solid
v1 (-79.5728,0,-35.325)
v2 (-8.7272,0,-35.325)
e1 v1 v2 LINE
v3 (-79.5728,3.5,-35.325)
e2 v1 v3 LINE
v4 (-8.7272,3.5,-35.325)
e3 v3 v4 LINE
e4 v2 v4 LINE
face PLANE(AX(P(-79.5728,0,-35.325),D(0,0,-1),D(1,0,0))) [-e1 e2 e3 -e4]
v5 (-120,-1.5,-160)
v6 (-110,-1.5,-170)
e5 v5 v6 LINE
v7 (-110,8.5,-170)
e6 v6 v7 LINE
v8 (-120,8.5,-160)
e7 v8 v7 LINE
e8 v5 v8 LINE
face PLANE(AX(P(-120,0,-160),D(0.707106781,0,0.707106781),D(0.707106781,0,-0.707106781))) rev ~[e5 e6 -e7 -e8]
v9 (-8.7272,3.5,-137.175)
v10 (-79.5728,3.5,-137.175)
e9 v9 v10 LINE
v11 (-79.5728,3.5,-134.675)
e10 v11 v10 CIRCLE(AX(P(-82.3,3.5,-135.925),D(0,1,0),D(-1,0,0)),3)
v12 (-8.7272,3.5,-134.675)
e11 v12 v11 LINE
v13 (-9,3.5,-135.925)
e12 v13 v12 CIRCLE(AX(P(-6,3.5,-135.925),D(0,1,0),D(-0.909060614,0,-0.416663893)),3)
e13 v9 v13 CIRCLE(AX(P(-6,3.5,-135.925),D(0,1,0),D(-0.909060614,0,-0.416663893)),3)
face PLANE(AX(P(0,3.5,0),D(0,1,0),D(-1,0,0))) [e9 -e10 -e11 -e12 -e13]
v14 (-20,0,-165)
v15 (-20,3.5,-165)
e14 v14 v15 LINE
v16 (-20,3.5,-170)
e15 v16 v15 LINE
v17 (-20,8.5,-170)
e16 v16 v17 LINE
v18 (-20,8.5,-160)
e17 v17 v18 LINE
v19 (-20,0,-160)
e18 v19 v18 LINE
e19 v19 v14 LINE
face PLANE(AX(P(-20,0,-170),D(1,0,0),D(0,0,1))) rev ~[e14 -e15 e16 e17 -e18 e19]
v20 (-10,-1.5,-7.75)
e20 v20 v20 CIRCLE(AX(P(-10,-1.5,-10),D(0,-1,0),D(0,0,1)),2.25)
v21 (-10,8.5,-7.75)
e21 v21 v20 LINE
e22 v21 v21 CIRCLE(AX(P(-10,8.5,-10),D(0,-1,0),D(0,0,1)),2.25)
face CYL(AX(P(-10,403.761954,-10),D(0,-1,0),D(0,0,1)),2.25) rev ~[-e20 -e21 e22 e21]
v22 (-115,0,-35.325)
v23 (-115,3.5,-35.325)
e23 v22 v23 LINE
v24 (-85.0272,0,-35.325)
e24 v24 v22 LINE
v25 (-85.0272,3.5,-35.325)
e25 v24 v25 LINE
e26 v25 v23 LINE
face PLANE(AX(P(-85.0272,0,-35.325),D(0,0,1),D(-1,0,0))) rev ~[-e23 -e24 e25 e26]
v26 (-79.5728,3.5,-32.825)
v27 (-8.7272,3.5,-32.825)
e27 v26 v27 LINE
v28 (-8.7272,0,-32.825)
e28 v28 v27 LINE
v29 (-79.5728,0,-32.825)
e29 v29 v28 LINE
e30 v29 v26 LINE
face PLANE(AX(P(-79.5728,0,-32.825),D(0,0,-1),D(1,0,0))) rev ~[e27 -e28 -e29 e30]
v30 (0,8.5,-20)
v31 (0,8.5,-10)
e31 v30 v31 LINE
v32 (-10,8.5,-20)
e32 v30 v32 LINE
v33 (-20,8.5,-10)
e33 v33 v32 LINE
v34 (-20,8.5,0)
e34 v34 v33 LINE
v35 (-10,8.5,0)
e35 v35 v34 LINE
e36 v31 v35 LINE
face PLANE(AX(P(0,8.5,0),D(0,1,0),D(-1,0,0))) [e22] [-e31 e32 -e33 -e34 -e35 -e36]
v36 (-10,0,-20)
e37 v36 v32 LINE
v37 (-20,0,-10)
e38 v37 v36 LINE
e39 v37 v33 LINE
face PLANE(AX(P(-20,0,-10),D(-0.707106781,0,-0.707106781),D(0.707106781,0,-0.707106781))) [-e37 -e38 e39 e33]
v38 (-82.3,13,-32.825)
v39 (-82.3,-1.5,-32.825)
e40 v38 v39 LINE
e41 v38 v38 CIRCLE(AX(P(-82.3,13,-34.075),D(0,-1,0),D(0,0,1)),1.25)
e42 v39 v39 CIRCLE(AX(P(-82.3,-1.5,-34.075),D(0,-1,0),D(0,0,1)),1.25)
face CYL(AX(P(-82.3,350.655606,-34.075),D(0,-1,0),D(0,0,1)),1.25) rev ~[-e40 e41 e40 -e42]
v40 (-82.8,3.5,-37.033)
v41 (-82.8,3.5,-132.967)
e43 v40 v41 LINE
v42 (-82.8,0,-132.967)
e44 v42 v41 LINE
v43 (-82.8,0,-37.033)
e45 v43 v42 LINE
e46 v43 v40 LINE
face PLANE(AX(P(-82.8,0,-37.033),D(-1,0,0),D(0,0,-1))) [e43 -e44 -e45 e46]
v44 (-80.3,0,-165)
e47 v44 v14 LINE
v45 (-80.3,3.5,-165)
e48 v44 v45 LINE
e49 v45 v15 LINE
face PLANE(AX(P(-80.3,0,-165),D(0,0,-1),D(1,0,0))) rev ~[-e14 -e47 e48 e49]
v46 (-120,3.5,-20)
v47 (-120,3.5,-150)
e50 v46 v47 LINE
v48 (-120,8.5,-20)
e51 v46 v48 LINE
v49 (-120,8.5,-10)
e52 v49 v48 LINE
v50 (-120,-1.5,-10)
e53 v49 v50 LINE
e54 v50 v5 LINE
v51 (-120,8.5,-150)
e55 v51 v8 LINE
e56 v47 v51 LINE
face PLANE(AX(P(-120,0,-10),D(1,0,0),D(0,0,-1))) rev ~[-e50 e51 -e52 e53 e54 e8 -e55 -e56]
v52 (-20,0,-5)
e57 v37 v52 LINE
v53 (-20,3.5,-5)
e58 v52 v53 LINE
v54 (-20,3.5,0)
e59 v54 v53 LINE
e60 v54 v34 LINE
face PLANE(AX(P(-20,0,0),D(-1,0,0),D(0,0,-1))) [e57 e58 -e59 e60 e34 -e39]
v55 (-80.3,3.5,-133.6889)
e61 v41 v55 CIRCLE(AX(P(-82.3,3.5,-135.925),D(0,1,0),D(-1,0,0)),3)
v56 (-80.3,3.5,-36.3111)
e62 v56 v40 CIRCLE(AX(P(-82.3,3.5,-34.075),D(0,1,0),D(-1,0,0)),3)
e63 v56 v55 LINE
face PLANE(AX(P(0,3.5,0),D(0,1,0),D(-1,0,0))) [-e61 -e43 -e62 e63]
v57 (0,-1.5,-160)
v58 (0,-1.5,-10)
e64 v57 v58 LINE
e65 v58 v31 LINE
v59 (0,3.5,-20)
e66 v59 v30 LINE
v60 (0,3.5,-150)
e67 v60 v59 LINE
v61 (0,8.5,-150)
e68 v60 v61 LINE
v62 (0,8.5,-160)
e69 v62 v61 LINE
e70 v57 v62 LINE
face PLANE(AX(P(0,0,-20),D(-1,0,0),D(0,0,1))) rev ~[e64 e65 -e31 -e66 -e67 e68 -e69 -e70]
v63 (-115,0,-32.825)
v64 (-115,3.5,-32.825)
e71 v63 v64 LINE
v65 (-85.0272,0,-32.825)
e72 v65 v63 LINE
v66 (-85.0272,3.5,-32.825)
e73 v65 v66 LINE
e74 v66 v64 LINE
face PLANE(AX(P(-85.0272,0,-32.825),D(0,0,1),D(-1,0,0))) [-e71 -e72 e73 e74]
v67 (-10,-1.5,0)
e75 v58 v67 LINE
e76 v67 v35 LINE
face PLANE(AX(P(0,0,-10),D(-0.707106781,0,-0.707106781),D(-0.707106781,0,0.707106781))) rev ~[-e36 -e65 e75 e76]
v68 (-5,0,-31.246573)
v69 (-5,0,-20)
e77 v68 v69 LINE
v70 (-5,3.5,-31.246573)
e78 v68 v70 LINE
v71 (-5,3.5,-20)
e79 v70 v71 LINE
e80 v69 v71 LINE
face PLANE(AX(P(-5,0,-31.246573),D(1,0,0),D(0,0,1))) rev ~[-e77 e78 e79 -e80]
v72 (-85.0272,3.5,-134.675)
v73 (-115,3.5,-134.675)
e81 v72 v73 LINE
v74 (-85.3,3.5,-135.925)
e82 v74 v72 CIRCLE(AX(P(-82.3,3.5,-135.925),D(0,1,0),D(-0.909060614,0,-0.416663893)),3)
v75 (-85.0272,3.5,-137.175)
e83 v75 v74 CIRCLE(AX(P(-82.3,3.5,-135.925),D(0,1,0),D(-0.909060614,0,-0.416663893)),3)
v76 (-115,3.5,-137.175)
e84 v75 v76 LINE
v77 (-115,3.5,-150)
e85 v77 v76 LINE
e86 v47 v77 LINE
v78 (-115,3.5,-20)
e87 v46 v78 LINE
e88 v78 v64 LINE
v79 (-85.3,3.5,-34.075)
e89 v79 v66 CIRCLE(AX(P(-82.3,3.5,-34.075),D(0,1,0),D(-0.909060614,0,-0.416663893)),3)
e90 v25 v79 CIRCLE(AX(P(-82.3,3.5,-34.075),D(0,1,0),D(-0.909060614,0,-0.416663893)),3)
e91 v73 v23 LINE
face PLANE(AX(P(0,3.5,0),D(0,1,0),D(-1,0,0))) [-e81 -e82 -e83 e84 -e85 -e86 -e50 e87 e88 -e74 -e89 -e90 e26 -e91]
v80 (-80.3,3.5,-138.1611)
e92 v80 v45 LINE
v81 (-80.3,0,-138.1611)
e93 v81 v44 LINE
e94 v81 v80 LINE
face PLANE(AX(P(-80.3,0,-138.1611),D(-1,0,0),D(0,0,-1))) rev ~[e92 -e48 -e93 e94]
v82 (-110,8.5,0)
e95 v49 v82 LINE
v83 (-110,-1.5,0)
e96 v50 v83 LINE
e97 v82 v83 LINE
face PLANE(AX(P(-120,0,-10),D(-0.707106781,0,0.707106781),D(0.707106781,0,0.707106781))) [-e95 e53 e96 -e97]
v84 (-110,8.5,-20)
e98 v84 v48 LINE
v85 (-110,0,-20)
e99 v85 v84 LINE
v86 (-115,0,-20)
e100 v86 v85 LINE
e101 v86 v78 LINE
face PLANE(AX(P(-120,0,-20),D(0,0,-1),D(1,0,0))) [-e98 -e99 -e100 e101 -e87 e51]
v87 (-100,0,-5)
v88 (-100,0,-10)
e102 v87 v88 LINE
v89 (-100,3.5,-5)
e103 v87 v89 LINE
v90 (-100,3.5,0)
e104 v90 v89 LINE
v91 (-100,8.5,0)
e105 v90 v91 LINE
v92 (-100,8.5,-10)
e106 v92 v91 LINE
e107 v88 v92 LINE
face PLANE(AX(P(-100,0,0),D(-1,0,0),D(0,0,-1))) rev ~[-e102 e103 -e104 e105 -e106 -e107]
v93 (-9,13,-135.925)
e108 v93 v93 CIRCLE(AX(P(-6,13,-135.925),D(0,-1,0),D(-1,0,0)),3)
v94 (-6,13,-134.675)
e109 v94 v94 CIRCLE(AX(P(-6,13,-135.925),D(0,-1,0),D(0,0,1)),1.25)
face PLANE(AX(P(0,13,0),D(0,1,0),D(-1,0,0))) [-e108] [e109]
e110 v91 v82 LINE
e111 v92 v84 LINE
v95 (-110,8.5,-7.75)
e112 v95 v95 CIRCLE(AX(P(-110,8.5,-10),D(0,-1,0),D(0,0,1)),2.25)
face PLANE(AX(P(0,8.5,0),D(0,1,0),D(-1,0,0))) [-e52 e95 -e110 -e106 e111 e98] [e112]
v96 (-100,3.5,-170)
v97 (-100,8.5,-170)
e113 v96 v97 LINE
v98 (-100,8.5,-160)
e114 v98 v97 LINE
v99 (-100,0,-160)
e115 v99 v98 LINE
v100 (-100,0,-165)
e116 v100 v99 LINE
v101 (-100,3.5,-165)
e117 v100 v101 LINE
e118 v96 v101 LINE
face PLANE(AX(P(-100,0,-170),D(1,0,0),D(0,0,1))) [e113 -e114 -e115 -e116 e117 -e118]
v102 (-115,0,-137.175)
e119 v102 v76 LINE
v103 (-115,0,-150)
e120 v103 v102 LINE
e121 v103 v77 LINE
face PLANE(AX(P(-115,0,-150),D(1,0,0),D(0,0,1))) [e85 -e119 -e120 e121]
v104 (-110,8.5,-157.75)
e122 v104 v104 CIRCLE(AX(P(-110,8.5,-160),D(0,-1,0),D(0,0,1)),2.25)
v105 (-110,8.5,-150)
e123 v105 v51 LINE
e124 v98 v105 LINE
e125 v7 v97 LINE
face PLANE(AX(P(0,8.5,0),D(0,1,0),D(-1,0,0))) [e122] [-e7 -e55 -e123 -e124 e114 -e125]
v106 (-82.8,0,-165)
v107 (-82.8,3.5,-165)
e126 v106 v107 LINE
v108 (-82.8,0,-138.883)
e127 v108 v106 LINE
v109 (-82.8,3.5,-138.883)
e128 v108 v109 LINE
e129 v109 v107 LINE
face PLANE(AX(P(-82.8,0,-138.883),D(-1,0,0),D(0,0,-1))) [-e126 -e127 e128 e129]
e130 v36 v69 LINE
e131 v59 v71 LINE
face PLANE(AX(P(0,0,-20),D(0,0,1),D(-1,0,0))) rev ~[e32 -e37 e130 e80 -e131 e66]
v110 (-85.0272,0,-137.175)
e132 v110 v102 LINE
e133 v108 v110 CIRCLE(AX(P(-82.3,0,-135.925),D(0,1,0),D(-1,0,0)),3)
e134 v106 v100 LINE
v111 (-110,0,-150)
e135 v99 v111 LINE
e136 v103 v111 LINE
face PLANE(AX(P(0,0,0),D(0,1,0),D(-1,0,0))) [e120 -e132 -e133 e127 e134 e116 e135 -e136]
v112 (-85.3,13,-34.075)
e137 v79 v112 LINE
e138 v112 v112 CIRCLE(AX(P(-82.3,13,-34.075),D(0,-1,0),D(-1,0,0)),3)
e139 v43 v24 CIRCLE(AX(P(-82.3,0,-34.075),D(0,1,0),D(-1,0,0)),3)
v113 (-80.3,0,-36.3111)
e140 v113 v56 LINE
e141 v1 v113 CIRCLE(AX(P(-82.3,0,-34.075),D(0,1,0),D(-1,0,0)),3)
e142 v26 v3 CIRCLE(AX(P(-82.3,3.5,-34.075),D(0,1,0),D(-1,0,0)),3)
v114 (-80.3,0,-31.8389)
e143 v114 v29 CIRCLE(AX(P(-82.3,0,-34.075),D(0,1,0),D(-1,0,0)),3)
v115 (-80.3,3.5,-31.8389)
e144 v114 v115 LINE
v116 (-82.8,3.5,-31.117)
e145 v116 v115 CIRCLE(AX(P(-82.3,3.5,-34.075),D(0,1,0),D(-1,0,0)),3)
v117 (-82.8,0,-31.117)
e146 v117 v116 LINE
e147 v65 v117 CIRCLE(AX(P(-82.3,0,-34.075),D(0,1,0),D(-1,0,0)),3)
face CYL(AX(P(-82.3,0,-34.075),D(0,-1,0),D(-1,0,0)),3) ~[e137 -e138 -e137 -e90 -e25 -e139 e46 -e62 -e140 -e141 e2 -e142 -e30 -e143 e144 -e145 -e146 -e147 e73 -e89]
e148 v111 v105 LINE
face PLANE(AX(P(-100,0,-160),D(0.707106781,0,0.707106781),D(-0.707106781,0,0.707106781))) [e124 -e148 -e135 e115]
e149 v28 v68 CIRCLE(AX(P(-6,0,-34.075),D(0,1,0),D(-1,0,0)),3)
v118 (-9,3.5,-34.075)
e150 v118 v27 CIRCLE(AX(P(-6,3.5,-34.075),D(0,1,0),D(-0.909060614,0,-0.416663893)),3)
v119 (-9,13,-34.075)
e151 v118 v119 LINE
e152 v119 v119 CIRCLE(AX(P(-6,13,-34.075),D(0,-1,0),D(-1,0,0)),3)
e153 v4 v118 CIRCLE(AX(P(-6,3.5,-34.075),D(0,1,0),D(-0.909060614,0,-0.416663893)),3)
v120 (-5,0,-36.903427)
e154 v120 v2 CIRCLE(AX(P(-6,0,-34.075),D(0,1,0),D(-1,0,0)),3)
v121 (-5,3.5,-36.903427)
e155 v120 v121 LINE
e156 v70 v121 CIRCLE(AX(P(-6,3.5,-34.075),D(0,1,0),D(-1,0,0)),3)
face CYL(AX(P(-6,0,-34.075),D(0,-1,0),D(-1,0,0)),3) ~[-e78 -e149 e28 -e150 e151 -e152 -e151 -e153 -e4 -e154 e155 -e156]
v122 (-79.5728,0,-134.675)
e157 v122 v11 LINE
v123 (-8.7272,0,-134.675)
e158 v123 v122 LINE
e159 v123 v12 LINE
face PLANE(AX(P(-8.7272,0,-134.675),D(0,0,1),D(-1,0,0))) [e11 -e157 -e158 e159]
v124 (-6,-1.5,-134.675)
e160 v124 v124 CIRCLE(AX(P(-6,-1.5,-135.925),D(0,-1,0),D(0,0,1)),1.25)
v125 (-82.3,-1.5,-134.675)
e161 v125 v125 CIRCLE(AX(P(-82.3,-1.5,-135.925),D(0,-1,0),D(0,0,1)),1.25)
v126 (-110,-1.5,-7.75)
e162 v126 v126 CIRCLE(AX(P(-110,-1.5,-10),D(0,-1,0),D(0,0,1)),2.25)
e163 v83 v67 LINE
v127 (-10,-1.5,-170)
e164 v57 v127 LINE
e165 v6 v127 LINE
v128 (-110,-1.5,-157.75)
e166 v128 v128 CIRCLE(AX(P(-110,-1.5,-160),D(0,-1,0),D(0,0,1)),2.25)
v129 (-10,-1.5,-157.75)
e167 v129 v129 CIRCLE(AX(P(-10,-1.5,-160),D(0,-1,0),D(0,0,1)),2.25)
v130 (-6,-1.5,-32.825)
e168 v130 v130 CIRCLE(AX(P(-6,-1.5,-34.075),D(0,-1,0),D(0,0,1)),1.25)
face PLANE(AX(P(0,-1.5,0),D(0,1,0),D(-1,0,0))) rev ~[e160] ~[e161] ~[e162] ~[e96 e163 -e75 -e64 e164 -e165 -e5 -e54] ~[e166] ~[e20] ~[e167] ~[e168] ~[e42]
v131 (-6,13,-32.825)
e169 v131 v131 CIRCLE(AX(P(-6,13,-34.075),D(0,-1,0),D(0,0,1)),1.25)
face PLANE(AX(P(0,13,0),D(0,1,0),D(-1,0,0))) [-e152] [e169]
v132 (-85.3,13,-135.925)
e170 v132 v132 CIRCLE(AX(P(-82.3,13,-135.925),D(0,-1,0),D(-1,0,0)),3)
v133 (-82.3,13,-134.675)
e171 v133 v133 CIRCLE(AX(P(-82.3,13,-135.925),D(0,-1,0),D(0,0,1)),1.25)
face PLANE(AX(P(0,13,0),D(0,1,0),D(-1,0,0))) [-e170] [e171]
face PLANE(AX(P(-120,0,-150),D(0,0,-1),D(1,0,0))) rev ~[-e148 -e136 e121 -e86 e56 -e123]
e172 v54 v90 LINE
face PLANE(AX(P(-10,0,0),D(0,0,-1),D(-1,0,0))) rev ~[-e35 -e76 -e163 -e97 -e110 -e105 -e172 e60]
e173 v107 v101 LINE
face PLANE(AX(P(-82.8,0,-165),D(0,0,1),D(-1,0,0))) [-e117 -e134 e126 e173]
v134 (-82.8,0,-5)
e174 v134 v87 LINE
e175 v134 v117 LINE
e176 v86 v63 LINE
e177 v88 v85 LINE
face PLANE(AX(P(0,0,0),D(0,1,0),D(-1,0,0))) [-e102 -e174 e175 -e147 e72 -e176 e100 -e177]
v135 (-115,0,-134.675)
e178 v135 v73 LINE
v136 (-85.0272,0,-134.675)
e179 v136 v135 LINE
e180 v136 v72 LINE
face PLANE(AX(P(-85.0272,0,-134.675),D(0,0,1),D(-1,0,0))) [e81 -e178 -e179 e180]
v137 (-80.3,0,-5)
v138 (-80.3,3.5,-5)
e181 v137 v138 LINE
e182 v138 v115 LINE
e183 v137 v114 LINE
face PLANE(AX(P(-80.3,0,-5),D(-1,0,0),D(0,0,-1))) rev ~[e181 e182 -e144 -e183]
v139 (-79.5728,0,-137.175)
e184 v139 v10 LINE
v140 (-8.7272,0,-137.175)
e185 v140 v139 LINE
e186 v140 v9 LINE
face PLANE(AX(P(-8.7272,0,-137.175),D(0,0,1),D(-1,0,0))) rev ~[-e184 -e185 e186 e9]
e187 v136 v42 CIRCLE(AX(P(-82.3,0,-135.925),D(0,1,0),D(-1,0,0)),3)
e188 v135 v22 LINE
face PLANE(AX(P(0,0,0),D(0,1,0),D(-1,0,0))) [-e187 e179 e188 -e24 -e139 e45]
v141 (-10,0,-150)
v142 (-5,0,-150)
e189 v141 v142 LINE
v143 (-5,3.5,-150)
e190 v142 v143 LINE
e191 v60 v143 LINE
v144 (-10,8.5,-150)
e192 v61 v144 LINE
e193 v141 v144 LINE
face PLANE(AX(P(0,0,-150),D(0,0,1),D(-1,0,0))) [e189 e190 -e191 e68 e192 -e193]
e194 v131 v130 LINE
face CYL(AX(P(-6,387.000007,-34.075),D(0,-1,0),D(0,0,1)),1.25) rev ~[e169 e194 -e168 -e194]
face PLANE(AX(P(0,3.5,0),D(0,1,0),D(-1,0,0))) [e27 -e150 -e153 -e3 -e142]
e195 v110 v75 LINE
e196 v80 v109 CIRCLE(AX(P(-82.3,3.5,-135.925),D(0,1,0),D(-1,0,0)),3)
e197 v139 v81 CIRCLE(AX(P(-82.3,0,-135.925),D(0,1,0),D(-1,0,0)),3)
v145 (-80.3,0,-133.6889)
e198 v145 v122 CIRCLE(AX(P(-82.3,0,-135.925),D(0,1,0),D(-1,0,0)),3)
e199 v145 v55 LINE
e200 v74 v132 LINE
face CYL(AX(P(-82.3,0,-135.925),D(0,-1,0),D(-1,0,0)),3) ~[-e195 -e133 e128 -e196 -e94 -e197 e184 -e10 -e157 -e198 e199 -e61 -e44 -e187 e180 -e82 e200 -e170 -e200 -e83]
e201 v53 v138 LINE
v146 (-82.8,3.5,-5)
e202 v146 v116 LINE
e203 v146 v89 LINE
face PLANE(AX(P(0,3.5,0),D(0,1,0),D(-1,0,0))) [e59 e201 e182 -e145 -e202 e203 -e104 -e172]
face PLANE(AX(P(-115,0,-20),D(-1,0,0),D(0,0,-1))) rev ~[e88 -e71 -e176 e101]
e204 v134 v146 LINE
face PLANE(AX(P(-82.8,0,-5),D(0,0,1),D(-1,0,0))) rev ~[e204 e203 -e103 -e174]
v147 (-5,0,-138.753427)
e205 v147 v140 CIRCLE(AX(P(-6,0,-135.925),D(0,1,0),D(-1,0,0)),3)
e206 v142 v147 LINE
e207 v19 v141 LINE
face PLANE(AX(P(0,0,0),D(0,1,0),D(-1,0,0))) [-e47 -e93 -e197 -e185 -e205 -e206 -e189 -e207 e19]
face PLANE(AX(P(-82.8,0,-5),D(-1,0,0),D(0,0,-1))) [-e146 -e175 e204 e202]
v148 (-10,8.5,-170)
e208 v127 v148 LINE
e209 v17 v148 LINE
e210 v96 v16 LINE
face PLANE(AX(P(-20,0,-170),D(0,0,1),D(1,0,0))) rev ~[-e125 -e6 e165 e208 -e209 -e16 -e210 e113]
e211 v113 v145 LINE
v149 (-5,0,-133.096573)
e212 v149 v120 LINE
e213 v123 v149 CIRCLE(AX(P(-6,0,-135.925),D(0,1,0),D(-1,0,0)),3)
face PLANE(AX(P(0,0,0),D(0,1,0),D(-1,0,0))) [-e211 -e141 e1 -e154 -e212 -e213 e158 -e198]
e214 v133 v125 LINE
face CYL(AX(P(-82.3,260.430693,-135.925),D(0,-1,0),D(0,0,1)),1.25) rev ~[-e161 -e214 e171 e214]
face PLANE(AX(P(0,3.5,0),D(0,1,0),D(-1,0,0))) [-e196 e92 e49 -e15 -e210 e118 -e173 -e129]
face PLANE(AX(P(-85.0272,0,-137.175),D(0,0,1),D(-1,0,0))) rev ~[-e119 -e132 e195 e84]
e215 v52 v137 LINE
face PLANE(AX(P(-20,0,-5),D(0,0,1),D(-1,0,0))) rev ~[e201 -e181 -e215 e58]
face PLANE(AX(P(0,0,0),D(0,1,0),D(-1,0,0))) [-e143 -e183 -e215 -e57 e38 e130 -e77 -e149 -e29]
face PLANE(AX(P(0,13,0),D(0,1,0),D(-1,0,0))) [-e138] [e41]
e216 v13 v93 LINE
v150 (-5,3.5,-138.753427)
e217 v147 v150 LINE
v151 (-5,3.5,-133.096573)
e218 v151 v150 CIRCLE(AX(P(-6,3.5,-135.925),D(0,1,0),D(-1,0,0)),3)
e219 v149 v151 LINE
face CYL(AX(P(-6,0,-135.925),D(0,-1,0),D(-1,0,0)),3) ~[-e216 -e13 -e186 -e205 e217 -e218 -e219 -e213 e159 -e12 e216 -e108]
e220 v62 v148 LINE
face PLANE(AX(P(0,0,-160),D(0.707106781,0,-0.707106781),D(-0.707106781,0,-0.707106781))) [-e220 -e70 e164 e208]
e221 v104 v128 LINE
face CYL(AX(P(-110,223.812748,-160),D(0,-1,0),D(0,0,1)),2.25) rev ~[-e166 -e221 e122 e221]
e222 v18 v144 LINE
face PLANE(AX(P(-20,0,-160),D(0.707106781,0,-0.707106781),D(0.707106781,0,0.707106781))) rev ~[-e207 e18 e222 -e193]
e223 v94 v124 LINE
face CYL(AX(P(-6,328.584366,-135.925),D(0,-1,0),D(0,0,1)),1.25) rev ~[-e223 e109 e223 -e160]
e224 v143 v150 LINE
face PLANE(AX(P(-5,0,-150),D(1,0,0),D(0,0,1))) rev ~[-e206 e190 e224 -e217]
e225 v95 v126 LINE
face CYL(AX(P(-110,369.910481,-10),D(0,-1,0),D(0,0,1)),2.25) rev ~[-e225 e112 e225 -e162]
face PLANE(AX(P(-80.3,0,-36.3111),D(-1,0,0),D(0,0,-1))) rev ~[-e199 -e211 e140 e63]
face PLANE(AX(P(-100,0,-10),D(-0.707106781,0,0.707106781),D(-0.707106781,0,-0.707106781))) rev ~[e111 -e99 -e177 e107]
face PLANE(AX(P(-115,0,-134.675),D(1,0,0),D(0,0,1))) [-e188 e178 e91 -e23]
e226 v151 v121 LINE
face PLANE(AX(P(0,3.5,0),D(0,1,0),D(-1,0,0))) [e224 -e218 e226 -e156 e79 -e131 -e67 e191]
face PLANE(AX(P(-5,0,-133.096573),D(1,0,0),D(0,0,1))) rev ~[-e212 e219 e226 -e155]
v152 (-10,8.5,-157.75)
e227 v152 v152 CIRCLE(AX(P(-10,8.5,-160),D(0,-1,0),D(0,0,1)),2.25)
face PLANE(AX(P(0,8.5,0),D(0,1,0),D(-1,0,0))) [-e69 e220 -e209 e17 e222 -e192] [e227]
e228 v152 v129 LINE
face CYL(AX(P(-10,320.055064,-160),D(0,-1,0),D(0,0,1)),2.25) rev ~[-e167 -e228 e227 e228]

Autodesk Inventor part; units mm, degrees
ref_plane "YZ Plane" through (0, 0, 0) normal (1, 0, 0) x (0, 1, 0)
ref_plane "XZ Plane" through (0, 0, 0) normal (0, 1, 0) x (-1, 0, 0)
ref_plane "XY Plane" through (0, 0, 0) normal (0, 0, 1) x (1, 0, 0)
sketch "Base Sketch" plane through (0, 0, 0) normal (0, 1, 0) x (-1, 0, 0)
  line L0 (10, 0) -> (110, 0)
  line L1 (120, -10) -> (120, -160)
  line L2 (110, -170) -> (10, -170)
  line L3 (0, -160) -> (0, -10)
  line L4 (86.3, -30.165) -> (2, -30.165) construction
  line L5 (2, -30.165) -> (2, -139.835) construction
  line L6 (2, -139.835) -> (86.3, -139.835) construction
  line L7 (86.3, -139.835) -> (86.3, -30.165) construction
  line L8 (82.3, -34.075) -> (6, -34.075) construction
  line L9 (6, -34.075) -> (6, -135.925) construction
  line L10 (6, -135.925) -> (82.3, -135.925) construction
  line L11 (82.3, -135.925) -> (82.3, -34.075) construction
  line L12 (0, -10) -> (10, 0)
  line L13 (120, -10) -> (110, 0)
  line L14 (120, -160) -> (110, -170)
  line L15 (0, -160) -> (10, -170)
  line L16 (100, 0) -> (100, -10)
  line L17 (120, -20) -> (110, -20)
  line L18 (100, -10) -> (110, -20)
  line L19 (120, -85) -> (0, -85) construction
  line L20 (60, 0) -> (60, -170) construction
  line L21 (100, -170) -> (100, -160)
  line L22 (120, -150) -> (110, -150)
  line L23 (100, -160) -> (110, -150)
  line L24 (20, 0) -> (20, -10)
  line L25 (0, -20) -> (10, -20)
  line L26 (20, -10) -> (10, -20)
  line L27 (20, -170) -> (20, -160)
  line L28 (20, -160) -> (10, -150)
  line L29 (0, -150) -> (10, -150)
  circle A0 centre (82.3, -34.075) radius 3
  circle A1 centre (6, -34.075) radius 3
  circle A2 centre (82.3, -135.925) radius 3
  circle A3 centre (6, -135.925) radius 3
  line L30 (82.8, -5) -> (82.8, -31.117)
  line L31 (80.3, -5) -> (80.3, -31.8389)
  line L32 (80.3, -36.3111) -> (80.3, -133.6889)
  line L33 (80.3, -138.1611) -> (80.3, -165)
  line L34 (82.8, -37.033) -> (82.8, -132.967)
  line L35 (82.8, -138.883) -> (82.8, -165)
  line L36 (79.5728, -35.325) -> (8.7272, -35.325)
  line L37 (79.5728, -32.825) -> (8.7272, -32.825)
  line L38 (85.0272, -35.325) -> (115, -35.325)
  line L39 (85.0272, -32.825) -> (115, -32.825)
  line L40 (8.7272, -134.675) -> (79.5728, -134.675)
  line L41 (85.0272, -134.675) -> (115, -134.675)
  line L42 (8.7272, -137.175) -> (79.5728, -137.175)
  line L43 (85.0272, -137.175) -> (115, -137.175)
  line L44 (80.3, -165) -> (12.0711, -165)
  line L45 (12.0711, -165) -> (5, -157.9289)
  line L46 (5, -157.9289) -> (5, -12.0711)
  line L47 (5, -12.0711) -> (12.0711, -5)
  line L48 (12.0711, -5) -> (80.3, -5)
  line L49 (82.8, -165) -> (107.9289, -165)
  line L50 (107.9289, -165) -> (115, -157.9289)
  line L51 (115, -157.9289) -> (115, -137.175)
  line L52 (82.8, -5) -> (107.9289, -5)
  line L53 (107.9289, -5) -> (115, -12.0711)
  line L54 (115, -12.0711) -> (115, -32.825)
  line L55 (115, -134.675) -> (115, -35.325)
  point P0 (0, 0)
  point P1 (120, -170)
  point P2 (120, 0)
  point P3 (0, -170)
  point P4 (110, -10)
  point P5 (110, -160)
  point P6 (10, -10)
  point P7 (10, -160)
  point P8 (20, -165)
  point P9 (100, -165)
  point P10 (115, -150)
  point P11 (115, -20)
  point P12 (100, -5)
  point P13 (20, -5)
  point P14 (5, -150)
  point P15 (5, -138.7534)
  point P16 (5, -133.0966)
  point P17 (5, -36.9034)
  point P18 (5, -31.2466)
  point P19 (5, -20)
  dimension "d109" = 6
  dimension "d0" = 120
  dimension "d1" = 170
  dimension "d12" = 84.3
  dimension "d13" = 109.67
  dimension "d14" = 76.3
  dimension "d15" = 101.85
  dimension "d16" = 3.91
  dimension "d17" = 3.91
  dimension "d18" = 4
  dimension "d19" = 4
  dimension "d20" = 2
  dimension "d21" = 30.165
  dimension "d22" = 30.165
  dimension "d82" = 10
  dimension "d83" = 10
  dimension "d84" = 10
  dimension "d85" = 10
  dimension "d88" = 10
  dimension "d90" = 10
  dimension "d91" = 10
  dimension "d93" = 10
  dimension "d94" = 190.9188
  dimension "d95" = 10
  dimension "d96" = 0
  dimension "d101" = 10
  dimension "d102" = 10
  dimension "d103" = 10
  dimension "d104" = 10
  dimension "d113" = 76.3
  dimension "d116" = 101.85
  dimension "d143" = 10
  dimension "d144" = 10
  dimension "d166" = 90
  dimension "d167" = 90
  dimension "d168" = 90
  dimension "d169" = 90
  dimension "d170" = 90
  dimension "d171" = 135
  dimension "d172" = 135
  dimension "d173" = 45
  dimension "d174" = 45
  dimension "d175" = 45
  dimension "d176" = 45
  dimension "d177" = 5
  dimension "d178" = 37.2
  dimension "d179" = 39.7
  dimension "d180" = 115
  dimension "d181" = 5
  dimension "d182" = 185.9188
  dimension "d183" = 9.1421
  dimension "d184" = 180.9188
  dimension "d185" = 2.5
  dimension "d186" = 104.35
  dimension "d187" = 101.85
  dimension "d188" = 27.825
  dimension "d189" = 132.175
  dimension "d190" = 12.825
  dimension "d191" = 160
  dimension "d192" = 115
  dimension "d193" = 115
  dimension "d194" = 82.8
  dimension "d195" = 82.8
  dimension "d196" = 80.3
  dimension "d197" = 80.3
extrude "Main Body" add sketch "Base Sketch" against normal blind 1.5
extrude "Structure" add sketch "Base Sketch" along normal blind 3.5 contours L0 L16 L52 L30 A0 L31 L48 L24 | L25 L46 A1 A3 L29 L3 | L1 L22 L51 L43 A2 L41 L55 L38 A0 L39 L54 L17 | A0 L36 A1 L37 | L27 L44 L33 A2 L35 L49 L21 L2 | A3 L40 A2 L42 | A0 L34 A2 L32
extrude "Corners" add sketch "Base Sketch" along normal blind 8.5 contours L0 L24 L48 L47 L46 L25 L3 L12 | L0 L13 L1 L17 L54 L53 L52 L16 | L24 L26 L25 L46 L47 L48 | L52 L53 L54 L17 L18 L16 | L29 L46 L45 L44 L27 L2 L15 L3 | L29 L28 L27 L44 L45 L46 | L1 L14 L2 L21 L49 L50 L51 L22 | L51 L50 L49 L21 L23 L22
extrude "Board Standoffs" add sketch "Base Sketch" along normal blind 13 contours A0 | L46 A1 | A1 L46 | L46 A3 | A3 L46 | A2
hole "Standoff Hole" at (-6, 0, -34.075) at (-6, 0, -135.925) at (-82.3, 0, -135.925) at (-82.3, 0, -34.075) direction (0, -1, 0) diameter 2.5 end through all both
hole "Corner Hole" at (-110, 0, -10) at (-110, 0, -160) at (-10, 0, -10) at (-10, 0, -160) direction (0, -1, 0) diameter 4.5 end through all both
equation "\"d16\" = d17"
equation "\"d18\" = d19"
equation "\"d21\" = d22"
equation "\"d113\" = d14"
equation "\"d116\" = d15"
properties part number "Prod5.2.1 - SKR1.4 Turbo Case Base"
